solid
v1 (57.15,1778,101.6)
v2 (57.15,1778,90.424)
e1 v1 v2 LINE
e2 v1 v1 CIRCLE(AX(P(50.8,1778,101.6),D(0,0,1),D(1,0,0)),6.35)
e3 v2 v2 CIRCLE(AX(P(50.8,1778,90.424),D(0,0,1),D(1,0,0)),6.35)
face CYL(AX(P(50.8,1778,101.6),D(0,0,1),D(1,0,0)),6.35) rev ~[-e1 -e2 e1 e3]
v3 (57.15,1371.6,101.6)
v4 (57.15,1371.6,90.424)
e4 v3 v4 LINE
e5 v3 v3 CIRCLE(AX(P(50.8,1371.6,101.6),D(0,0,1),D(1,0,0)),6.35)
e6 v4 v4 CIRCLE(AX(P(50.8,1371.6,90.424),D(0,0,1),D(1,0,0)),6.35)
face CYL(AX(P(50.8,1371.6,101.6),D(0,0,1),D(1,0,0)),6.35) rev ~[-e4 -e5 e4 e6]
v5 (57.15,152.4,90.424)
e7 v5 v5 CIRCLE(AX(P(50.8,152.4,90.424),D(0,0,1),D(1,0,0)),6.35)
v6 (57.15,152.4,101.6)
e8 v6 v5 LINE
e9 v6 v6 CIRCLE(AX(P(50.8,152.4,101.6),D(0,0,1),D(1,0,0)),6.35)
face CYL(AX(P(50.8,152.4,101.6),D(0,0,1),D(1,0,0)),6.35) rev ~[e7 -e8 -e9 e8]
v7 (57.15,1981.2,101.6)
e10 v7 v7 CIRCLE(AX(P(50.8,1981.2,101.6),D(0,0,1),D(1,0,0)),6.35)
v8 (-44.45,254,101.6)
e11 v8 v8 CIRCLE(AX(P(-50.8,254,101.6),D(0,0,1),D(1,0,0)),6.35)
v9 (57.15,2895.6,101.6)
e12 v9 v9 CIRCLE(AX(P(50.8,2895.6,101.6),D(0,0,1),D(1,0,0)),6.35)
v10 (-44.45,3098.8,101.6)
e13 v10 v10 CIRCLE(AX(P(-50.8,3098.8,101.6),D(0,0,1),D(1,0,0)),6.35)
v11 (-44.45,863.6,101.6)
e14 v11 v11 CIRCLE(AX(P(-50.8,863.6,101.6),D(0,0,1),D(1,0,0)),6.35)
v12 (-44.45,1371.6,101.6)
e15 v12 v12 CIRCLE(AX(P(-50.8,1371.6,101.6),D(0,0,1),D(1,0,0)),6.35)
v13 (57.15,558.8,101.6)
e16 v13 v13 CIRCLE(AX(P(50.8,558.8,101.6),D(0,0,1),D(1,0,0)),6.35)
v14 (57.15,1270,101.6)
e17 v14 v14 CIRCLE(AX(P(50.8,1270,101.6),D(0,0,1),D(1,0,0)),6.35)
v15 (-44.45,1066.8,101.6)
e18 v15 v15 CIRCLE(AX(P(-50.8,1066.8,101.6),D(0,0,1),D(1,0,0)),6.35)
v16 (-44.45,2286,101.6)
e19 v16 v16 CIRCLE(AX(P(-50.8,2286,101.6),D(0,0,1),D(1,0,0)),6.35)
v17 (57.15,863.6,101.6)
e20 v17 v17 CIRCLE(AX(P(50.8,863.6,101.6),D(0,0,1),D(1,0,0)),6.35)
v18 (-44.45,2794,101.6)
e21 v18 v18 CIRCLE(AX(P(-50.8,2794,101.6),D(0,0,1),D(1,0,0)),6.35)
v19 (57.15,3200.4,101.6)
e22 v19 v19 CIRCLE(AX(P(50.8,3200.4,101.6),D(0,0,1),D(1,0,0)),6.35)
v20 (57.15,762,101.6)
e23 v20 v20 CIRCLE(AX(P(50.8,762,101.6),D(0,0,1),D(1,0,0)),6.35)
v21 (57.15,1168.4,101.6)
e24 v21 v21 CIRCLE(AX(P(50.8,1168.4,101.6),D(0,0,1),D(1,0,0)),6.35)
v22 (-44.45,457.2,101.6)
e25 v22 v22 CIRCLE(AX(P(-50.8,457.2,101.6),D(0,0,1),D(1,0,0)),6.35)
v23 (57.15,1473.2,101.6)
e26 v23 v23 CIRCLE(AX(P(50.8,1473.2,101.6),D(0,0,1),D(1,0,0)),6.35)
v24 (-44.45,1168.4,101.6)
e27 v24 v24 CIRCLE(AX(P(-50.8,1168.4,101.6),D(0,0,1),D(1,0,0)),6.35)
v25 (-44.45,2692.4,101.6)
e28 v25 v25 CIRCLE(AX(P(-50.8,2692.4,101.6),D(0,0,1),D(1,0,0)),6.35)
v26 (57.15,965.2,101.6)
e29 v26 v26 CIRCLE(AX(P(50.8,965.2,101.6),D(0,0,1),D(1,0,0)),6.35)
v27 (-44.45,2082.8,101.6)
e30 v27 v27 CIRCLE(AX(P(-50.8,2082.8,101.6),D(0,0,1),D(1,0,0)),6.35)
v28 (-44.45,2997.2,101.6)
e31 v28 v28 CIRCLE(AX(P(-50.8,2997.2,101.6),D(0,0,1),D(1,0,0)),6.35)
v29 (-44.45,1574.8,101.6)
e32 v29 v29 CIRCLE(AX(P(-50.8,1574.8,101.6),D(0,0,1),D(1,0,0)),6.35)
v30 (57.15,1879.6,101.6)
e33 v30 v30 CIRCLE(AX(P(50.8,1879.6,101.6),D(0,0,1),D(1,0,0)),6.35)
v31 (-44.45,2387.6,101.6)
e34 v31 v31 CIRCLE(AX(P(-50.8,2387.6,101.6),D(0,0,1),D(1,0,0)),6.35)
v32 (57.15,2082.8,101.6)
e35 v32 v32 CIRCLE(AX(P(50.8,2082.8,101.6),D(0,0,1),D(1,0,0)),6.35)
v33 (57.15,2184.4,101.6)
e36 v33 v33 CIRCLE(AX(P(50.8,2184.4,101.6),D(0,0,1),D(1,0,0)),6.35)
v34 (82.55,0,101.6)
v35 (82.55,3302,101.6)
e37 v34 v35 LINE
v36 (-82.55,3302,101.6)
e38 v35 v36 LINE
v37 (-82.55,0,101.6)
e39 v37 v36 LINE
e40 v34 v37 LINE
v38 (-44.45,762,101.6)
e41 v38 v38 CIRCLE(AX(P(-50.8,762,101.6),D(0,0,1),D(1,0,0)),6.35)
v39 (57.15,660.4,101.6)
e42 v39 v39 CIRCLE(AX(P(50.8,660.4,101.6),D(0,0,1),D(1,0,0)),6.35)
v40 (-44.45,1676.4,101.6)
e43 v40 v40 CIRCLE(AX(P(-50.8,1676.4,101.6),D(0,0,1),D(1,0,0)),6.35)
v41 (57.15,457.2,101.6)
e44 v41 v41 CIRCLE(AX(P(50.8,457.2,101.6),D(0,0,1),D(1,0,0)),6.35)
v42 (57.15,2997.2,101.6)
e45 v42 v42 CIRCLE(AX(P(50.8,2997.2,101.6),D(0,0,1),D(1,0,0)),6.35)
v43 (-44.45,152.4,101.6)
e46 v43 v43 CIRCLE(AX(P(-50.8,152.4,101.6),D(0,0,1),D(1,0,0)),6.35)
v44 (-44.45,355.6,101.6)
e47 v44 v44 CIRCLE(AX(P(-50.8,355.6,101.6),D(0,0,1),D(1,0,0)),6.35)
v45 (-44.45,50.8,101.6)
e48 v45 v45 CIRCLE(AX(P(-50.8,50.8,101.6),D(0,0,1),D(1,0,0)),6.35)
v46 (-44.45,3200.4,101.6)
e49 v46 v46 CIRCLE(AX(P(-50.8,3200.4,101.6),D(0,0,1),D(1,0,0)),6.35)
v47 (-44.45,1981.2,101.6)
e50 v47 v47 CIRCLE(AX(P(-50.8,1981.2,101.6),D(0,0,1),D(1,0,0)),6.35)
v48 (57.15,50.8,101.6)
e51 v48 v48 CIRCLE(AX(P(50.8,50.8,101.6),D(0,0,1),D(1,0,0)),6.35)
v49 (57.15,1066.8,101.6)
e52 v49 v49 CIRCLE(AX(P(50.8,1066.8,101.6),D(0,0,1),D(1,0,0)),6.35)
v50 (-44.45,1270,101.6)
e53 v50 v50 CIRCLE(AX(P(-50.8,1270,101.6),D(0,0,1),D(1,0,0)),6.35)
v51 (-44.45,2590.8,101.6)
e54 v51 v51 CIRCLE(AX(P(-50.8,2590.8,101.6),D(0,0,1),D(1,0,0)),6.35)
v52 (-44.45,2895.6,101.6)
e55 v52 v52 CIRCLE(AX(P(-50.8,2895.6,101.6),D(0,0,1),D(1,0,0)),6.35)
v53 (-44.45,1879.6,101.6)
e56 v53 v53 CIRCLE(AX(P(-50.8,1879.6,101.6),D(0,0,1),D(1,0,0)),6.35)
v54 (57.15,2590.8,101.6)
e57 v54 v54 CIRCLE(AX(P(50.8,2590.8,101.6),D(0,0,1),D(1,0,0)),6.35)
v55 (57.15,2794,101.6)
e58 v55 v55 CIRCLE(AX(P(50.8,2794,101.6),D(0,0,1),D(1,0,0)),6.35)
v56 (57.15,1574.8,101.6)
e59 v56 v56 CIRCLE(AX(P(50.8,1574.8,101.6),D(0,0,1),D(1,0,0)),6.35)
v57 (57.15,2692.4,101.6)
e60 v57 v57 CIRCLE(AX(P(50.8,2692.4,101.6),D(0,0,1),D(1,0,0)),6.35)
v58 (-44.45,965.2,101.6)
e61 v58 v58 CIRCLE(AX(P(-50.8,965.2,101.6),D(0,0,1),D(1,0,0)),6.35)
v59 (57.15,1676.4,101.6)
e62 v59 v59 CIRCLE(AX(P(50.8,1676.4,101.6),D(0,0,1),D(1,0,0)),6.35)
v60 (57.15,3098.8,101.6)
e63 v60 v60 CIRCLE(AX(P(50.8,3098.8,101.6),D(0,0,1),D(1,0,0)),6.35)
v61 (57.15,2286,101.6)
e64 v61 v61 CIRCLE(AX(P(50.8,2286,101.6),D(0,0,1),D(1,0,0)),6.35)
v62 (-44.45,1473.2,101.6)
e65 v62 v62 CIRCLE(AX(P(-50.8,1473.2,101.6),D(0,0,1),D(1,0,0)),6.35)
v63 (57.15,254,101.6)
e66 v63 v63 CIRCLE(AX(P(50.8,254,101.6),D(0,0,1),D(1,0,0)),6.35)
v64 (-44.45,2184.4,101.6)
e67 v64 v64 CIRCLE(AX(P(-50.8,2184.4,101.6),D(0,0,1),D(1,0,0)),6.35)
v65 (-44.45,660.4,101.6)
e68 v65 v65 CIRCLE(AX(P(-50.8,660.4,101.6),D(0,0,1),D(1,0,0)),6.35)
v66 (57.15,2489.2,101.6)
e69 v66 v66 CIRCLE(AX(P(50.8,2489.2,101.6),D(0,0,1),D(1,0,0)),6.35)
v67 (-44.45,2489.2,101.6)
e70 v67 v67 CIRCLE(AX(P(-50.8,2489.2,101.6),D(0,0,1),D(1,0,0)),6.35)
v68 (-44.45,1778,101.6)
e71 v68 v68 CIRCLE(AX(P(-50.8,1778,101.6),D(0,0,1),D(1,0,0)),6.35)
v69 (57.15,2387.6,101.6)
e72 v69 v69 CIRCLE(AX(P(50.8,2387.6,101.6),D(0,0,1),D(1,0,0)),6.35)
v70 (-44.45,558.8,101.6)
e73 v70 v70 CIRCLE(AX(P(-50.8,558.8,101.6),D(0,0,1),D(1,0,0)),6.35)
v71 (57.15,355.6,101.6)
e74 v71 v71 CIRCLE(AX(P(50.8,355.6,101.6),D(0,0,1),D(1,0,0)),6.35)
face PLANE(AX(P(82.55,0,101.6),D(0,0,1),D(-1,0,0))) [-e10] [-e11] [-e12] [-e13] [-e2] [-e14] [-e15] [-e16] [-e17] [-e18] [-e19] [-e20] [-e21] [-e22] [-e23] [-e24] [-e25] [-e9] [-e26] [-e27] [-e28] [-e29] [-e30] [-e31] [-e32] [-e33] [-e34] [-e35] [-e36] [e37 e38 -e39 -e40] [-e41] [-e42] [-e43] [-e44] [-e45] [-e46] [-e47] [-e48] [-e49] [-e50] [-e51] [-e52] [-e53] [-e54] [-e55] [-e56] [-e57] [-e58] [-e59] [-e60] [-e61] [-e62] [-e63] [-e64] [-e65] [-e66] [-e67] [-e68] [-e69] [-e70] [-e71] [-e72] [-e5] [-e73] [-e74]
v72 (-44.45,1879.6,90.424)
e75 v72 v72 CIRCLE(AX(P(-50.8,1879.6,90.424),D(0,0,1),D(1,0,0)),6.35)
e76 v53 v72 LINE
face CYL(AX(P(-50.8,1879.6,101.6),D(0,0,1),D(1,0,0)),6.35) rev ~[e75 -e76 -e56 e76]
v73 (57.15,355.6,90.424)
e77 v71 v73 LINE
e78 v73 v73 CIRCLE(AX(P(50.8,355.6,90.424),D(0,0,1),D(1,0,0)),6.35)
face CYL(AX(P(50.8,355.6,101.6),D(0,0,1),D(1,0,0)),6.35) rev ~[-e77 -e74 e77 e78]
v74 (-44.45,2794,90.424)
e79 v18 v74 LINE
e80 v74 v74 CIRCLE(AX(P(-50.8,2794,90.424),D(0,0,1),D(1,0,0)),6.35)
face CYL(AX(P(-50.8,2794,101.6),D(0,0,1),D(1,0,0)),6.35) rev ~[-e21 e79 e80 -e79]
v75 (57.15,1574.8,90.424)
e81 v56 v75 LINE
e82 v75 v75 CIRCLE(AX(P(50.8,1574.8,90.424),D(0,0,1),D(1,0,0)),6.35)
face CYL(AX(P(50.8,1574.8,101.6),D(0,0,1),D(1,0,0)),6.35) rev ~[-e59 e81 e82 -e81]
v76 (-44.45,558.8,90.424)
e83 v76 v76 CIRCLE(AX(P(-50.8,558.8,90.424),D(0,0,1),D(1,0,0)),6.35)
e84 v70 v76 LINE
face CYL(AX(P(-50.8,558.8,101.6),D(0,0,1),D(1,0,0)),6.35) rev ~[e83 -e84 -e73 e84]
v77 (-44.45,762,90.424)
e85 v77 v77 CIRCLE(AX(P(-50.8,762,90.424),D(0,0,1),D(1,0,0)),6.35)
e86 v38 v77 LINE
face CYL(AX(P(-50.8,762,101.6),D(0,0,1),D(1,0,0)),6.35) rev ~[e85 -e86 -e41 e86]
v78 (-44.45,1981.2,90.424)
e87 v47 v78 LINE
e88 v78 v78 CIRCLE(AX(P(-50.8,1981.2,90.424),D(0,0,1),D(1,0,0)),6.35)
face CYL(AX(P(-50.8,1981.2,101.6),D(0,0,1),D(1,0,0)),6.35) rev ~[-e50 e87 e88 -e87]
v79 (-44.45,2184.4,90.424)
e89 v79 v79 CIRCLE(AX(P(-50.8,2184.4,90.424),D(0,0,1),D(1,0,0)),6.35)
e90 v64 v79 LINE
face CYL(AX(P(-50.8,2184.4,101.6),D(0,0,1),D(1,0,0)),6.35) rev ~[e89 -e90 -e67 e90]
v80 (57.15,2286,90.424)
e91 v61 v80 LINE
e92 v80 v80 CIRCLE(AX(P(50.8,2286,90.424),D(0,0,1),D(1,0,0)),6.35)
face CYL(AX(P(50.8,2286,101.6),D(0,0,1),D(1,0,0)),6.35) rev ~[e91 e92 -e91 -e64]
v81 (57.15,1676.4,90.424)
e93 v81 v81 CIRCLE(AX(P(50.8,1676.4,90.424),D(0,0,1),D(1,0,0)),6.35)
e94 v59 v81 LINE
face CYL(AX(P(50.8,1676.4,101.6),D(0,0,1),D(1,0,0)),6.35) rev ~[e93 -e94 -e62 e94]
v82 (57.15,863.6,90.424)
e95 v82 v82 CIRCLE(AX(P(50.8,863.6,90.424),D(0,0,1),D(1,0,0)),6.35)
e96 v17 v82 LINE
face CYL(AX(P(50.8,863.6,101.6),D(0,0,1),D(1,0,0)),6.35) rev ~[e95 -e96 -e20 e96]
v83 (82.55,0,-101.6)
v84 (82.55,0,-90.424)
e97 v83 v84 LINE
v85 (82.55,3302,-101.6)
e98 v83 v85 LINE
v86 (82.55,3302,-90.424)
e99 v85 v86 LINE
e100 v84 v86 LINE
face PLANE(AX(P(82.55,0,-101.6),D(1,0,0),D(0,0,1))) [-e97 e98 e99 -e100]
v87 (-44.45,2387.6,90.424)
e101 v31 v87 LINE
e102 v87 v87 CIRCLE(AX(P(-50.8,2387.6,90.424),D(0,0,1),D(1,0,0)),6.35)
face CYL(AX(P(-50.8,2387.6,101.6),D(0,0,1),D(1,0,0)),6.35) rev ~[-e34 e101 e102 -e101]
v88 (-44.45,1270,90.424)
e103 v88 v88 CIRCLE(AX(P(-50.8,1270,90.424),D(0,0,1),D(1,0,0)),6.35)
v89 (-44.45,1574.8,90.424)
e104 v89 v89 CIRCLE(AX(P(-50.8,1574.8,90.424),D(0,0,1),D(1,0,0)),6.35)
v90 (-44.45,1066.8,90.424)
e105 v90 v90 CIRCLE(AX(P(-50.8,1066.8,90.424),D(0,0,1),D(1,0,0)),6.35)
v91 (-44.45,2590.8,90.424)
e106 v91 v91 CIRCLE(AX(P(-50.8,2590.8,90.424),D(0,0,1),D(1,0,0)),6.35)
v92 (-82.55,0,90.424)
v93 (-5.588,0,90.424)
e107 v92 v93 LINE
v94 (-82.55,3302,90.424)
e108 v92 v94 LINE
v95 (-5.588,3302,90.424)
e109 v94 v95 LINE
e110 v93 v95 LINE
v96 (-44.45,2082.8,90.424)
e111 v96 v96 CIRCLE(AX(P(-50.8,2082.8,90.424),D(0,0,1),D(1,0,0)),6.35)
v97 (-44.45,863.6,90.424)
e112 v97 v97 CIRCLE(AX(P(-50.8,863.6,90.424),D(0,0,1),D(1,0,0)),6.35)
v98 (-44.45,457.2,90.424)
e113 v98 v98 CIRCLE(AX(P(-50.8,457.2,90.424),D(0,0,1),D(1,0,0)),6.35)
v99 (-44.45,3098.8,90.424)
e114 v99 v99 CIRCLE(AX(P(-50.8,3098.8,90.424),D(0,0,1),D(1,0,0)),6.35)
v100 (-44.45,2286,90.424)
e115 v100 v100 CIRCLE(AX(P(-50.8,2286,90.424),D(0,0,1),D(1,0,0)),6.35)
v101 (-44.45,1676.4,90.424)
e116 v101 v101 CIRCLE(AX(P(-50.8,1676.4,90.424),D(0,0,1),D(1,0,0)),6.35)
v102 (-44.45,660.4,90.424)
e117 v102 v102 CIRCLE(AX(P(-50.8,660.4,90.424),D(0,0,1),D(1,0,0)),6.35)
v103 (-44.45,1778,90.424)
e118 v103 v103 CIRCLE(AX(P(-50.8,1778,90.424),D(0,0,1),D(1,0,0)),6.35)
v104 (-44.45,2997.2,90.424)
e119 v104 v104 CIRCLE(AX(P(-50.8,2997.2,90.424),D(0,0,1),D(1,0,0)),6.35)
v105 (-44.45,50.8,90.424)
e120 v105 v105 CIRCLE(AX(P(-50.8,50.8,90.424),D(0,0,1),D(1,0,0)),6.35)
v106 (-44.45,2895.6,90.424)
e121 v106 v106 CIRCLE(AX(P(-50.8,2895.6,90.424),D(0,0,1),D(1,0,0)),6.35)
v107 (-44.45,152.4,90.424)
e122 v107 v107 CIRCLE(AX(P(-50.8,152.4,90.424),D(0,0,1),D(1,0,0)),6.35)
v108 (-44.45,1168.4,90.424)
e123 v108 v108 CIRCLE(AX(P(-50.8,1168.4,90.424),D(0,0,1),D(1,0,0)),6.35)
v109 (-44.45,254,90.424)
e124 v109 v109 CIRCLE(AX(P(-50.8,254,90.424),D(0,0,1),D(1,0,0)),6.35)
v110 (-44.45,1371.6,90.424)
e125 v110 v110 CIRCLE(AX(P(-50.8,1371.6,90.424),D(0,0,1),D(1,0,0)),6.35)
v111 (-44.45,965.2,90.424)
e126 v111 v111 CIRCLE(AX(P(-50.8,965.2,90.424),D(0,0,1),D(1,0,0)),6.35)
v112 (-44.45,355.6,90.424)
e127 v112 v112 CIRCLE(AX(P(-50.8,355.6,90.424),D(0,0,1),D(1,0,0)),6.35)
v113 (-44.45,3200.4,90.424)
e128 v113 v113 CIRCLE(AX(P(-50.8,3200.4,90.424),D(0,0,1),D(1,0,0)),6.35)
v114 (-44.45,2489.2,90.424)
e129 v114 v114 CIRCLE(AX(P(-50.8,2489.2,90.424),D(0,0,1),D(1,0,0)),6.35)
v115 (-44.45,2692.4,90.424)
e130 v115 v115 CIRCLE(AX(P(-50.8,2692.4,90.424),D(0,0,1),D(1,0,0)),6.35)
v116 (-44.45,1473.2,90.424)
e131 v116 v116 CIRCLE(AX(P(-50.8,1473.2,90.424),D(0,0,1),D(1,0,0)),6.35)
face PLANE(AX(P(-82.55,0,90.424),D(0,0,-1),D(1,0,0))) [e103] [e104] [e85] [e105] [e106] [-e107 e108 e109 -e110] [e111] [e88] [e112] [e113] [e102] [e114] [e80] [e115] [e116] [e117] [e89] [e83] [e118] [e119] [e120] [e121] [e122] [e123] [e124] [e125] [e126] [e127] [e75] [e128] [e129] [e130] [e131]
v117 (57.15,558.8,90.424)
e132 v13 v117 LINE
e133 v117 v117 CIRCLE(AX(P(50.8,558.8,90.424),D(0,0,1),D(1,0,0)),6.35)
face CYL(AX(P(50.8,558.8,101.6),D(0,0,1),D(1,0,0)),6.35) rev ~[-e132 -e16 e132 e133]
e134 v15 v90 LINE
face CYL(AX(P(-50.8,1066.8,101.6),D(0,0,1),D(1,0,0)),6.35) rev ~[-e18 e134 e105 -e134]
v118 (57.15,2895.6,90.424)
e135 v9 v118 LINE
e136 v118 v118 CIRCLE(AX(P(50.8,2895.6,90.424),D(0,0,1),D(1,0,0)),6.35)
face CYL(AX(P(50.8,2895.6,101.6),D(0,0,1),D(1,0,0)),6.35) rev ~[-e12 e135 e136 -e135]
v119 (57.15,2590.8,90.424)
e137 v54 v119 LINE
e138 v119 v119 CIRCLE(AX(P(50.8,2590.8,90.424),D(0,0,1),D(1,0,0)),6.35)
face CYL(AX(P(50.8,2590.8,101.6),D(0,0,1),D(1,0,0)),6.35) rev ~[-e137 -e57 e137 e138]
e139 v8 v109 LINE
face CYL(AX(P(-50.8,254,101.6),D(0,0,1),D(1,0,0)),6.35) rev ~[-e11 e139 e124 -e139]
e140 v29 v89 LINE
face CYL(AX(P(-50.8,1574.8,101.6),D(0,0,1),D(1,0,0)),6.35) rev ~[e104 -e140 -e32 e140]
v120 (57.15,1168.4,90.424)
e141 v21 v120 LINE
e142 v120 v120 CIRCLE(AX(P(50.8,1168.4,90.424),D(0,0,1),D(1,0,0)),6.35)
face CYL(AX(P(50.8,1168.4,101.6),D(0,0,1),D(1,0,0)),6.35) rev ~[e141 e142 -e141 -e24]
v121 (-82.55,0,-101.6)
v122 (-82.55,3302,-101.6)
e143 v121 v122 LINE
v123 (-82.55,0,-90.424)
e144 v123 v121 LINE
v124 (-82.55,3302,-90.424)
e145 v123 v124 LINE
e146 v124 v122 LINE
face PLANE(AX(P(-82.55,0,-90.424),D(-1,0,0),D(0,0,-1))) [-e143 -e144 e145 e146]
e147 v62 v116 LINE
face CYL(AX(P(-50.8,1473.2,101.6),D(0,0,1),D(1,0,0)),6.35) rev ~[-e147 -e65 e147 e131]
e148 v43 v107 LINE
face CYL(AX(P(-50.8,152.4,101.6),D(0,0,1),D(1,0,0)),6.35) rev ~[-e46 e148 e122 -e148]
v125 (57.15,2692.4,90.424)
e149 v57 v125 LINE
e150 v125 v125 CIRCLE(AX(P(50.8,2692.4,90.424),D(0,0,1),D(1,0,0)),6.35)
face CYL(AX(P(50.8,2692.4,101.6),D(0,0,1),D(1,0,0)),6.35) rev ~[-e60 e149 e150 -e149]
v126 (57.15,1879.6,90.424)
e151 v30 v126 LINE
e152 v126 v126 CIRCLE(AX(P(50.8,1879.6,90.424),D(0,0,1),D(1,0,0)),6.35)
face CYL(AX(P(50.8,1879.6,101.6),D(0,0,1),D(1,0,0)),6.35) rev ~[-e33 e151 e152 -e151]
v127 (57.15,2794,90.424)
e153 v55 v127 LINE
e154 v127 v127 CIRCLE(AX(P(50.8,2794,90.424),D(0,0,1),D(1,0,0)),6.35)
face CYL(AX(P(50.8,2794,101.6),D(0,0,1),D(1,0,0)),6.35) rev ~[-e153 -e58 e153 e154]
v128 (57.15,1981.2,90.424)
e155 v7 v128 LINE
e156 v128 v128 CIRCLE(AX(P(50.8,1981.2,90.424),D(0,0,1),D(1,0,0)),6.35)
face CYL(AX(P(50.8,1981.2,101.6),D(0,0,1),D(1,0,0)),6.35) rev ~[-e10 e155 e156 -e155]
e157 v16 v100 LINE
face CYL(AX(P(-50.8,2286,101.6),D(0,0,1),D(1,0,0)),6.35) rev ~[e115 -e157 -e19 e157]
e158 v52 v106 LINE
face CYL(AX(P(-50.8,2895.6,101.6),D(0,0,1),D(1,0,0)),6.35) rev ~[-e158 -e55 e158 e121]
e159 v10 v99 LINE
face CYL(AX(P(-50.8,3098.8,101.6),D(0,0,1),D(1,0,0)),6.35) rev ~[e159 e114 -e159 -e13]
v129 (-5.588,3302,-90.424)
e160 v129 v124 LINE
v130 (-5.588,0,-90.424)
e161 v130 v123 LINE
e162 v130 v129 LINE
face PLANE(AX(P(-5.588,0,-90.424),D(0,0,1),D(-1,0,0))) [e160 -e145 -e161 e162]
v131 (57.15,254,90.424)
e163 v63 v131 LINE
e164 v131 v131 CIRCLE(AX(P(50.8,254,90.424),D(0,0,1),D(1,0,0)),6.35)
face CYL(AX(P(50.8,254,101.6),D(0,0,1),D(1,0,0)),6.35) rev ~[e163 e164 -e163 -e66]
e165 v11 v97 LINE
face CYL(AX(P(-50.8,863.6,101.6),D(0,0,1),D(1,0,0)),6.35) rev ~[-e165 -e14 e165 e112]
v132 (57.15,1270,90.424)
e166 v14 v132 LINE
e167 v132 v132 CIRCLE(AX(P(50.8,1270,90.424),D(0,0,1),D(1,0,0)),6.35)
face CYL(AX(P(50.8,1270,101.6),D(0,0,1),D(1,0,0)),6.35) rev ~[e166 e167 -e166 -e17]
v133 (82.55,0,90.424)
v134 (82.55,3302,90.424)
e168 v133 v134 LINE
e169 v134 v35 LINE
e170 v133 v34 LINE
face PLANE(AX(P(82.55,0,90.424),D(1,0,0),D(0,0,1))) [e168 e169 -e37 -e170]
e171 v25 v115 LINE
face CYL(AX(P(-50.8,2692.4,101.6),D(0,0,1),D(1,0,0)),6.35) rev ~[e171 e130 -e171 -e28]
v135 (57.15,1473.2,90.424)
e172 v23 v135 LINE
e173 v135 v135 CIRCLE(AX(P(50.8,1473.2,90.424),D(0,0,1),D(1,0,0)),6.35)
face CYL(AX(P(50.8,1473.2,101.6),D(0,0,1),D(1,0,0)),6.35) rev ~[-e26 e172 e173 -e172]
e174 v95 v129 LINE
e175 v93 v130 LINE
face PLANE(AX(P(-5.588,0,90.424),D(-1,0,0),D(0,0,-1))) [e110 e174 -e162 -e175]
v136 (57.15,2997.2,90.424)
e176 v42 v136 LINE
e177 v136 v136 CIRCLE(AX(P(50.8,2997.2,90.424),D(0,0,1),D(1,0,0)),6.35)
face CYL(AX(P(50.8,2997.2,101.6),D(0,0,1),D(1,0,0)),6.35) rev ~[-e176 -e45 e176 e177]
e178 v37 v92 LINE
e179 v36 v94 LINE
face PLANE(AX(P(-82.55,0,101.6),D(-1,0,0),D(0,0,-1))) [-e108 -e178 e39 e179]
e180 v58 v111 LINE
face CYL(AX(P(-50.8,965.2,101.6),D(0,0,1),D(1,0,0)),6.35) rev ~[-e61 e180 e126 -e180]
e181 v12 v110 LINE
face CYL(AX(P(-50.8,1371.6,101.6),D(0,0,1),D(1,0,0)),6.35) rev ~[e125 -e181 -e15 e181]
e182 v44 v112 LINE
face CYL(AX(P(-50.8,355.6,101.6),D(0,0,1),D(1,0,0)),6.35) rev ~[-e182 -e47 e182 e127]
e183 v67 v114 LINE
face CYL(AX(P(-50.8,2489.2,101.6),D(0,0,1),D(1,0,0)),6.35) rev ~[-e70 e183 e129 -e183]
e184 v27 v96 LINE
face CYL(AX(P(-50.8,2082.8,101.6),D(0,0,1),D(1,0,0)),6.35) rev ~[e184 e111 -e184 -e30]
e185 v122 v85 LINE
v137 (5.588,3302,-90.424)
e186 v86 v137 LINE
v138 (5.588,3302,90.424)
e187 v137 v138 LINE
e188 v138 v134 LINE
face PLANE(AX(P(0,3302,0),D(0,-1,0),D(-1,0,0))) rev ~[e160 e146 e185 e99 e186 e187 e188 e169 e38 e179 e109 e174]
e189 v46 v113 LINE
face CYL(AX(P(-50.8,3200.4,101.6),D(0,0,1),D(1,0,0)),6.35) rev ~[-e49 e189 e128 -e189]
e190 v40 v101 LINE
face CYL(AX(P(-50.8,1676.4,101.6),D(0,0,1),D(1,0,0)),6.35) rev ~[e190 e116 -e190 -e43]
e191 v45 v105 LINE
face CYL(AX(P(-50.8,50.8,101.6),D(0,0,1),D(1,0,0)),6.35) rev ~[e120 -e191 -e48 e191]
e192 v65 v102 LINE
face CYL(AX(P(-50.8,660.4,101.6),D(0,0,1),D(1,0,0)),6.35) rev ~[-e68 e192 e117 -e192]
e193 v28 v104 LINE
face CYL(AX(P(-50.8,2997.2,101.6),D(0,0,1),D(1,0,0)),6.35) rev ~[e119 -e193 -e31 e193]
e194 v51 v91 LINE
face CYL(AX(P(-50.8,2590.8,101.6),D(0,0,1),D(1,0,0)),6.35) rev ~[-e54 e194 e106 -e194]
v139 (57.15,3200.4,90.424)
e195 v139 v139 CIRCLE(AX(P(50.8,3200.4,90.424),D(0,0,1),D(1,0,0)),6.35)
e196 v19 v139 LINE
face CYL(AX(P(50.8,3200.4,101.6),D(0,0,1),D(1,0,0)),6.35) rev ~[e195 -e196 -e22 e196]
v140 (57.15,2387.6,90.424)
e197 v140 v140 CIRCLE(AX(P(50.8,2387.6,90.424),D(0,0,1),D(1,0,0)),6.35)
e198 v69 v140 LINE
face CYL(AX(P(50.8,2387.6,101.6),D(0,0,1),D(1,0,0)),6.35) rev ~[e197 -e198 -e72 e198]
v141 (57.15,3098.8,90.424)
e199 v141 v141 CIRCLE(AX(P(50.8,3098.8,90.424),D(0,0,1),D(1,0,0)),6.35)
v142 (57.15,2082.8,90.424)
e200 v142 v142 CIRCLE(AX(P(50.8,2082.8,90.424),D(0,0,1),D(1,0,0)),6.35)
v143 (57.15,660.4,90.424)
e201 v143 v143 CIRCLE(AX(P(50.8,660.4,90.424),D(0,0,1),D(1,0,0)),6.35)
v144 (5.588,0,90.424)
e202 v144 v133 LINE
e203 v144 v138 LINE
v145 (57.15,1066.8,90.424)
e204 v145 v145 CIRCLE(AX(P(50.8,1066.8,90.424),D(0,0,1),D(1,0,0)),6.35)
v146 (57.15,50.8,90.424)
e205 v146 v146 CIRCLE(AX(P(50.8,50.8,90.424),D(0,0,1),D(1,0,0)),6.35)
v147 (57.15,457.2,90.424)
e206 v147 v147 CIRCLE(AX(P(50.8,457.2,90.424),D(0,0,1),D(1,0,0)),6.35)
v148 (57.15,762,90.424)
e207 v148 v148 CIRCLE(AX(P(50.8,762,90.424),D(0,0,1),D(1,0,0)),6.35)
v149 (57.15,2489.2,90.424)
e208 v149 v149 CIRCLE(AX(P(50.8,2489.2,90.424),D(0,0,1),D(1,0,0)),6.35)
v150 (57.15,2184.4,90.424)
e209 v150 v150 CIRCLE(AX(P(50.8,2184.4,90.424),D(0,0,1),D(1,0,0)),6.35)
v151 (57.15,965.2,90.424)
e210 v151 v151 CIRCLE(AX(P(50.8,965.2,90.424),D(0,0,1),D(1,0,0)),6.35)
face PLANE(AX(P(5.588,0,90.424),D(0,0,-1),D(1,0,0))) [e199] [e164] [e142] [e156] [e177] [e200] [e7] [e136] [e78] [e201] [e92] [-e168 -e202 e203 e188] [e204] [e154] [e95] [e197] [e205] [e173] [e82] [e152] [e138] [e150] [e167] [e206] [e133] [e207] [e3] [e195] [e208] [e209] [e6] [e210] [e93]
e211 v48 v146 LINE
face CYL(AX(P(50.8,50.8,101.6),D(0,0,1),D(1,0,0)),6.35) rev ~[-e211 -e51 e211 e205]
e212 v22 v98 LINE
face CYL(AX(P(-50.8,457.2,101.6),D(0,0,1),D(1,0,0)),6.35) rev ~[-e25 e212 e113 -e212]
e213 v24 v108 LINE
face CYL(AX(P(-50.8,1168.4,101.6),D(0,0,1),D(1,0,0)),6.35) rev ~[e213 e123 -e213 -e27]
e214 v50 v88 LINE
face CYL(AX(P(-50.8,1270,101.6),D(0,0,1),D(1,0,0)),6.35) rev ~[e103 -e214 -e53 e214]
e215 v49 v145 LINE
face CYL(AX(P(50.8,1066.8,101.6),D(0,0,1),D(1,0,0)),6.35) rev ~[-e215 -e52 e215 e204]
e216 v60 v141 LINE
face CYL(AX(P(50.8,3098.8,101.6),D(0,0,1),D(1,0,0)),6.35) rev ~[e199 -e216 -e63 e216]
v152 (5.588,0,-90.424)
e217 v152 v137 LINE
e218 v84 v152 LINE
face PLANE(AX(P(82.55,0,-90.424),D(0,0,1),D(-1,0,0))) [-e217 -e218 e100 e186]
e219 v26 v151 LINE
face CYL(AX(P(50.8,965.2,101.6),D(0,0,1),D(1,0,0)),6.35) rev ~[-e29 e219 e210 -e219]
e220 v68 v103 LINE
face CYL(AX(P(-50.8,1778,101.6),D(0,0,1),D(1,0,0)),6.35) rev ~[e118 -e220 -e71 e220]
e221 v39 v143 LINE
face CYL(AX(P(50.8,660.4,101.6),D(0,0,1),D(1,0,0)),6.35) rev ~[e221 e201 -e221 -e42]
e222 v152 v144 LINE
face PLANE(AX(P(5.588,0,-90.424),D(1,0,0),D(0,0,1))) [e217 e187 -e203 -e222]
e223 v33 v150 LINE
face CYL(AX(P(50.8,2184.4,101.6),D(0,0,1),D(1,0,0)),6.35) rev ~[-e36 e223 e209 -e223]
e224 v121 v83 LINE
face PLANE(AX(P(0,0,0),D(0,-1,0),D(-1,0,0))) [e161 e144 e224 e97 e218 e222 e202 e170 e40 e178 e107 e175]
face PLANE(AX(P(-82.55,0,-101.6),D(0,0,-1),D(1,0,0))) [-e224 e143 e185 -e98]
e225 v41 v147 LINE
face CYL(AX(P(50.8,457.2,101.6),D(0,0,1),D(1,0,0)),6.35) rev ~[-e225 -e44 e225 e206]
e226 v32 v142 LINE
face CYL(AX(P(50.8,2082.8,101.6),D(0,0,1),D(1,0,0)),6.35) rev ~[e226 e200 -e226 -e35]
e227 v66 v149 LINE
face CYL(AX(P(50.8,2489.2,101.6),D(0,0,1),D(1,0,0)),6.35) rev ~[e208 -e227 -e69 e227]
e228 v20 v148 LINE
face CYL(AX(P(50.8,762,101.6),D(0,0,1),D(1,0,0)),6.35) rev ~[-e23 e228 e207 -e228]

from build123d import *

# Parameters (mm, degrees)
BOSS_EXTRUDE1_DEPTH = 3302
SKETCH2_R           = 6.35
CUT_EXTRUDE1_DEPTH  = 11.176
LPATTERN1_COUNT     = 32
LPATTERN1_PITCH     = 101.6


with BuildPart() as part:
    # Sketch1 → Boss-Extrude1 (new body)
    with BuildSketch(Plane(origin=(0, 0, 0), x_dir=(1, 0, 0), z_dir=(0, 1, 0))):
        Polygon((-5.588, -90.424), (-5.588, 90.424), (-82.55, 90.424), (-82.55, 101.6), (82.55, 101.6), (82.55, 90.424), (5.588, 90.424), (5.588, -90.424), (82.55, -90.424), (82.55, -101.6), (-82.55, -101.6), (-82.55, -90.424), align=None)
    extrude(amount=BOSS_EXTRUDE1_DEPTH)

    # Sketch2 → Cut-Extrude1 (cut)
    with BuildSketch(Plane.XY.offset(101.6)):
        with Locations((-50.8, 50.8)):
            Circle(SKETCH2_R)
        with Locations((50.8, 50.8)):
            Circle(SKETCH2_R)
    cut_extrude1 = extrude(amount=-CUT_EXTRUDE1_DEPTH, mode=Mode.SUBTRACT)

    # LPattern1: Cut-Extrude1 ×32
    with Locations(*[(0, i * LPATTERN1_PITCH, 0) for i in range(1, LPATTERN1_COUNT)]):
        add(cut_extrude1, mode=Mode.SUBTRACT)


solid = part.part
